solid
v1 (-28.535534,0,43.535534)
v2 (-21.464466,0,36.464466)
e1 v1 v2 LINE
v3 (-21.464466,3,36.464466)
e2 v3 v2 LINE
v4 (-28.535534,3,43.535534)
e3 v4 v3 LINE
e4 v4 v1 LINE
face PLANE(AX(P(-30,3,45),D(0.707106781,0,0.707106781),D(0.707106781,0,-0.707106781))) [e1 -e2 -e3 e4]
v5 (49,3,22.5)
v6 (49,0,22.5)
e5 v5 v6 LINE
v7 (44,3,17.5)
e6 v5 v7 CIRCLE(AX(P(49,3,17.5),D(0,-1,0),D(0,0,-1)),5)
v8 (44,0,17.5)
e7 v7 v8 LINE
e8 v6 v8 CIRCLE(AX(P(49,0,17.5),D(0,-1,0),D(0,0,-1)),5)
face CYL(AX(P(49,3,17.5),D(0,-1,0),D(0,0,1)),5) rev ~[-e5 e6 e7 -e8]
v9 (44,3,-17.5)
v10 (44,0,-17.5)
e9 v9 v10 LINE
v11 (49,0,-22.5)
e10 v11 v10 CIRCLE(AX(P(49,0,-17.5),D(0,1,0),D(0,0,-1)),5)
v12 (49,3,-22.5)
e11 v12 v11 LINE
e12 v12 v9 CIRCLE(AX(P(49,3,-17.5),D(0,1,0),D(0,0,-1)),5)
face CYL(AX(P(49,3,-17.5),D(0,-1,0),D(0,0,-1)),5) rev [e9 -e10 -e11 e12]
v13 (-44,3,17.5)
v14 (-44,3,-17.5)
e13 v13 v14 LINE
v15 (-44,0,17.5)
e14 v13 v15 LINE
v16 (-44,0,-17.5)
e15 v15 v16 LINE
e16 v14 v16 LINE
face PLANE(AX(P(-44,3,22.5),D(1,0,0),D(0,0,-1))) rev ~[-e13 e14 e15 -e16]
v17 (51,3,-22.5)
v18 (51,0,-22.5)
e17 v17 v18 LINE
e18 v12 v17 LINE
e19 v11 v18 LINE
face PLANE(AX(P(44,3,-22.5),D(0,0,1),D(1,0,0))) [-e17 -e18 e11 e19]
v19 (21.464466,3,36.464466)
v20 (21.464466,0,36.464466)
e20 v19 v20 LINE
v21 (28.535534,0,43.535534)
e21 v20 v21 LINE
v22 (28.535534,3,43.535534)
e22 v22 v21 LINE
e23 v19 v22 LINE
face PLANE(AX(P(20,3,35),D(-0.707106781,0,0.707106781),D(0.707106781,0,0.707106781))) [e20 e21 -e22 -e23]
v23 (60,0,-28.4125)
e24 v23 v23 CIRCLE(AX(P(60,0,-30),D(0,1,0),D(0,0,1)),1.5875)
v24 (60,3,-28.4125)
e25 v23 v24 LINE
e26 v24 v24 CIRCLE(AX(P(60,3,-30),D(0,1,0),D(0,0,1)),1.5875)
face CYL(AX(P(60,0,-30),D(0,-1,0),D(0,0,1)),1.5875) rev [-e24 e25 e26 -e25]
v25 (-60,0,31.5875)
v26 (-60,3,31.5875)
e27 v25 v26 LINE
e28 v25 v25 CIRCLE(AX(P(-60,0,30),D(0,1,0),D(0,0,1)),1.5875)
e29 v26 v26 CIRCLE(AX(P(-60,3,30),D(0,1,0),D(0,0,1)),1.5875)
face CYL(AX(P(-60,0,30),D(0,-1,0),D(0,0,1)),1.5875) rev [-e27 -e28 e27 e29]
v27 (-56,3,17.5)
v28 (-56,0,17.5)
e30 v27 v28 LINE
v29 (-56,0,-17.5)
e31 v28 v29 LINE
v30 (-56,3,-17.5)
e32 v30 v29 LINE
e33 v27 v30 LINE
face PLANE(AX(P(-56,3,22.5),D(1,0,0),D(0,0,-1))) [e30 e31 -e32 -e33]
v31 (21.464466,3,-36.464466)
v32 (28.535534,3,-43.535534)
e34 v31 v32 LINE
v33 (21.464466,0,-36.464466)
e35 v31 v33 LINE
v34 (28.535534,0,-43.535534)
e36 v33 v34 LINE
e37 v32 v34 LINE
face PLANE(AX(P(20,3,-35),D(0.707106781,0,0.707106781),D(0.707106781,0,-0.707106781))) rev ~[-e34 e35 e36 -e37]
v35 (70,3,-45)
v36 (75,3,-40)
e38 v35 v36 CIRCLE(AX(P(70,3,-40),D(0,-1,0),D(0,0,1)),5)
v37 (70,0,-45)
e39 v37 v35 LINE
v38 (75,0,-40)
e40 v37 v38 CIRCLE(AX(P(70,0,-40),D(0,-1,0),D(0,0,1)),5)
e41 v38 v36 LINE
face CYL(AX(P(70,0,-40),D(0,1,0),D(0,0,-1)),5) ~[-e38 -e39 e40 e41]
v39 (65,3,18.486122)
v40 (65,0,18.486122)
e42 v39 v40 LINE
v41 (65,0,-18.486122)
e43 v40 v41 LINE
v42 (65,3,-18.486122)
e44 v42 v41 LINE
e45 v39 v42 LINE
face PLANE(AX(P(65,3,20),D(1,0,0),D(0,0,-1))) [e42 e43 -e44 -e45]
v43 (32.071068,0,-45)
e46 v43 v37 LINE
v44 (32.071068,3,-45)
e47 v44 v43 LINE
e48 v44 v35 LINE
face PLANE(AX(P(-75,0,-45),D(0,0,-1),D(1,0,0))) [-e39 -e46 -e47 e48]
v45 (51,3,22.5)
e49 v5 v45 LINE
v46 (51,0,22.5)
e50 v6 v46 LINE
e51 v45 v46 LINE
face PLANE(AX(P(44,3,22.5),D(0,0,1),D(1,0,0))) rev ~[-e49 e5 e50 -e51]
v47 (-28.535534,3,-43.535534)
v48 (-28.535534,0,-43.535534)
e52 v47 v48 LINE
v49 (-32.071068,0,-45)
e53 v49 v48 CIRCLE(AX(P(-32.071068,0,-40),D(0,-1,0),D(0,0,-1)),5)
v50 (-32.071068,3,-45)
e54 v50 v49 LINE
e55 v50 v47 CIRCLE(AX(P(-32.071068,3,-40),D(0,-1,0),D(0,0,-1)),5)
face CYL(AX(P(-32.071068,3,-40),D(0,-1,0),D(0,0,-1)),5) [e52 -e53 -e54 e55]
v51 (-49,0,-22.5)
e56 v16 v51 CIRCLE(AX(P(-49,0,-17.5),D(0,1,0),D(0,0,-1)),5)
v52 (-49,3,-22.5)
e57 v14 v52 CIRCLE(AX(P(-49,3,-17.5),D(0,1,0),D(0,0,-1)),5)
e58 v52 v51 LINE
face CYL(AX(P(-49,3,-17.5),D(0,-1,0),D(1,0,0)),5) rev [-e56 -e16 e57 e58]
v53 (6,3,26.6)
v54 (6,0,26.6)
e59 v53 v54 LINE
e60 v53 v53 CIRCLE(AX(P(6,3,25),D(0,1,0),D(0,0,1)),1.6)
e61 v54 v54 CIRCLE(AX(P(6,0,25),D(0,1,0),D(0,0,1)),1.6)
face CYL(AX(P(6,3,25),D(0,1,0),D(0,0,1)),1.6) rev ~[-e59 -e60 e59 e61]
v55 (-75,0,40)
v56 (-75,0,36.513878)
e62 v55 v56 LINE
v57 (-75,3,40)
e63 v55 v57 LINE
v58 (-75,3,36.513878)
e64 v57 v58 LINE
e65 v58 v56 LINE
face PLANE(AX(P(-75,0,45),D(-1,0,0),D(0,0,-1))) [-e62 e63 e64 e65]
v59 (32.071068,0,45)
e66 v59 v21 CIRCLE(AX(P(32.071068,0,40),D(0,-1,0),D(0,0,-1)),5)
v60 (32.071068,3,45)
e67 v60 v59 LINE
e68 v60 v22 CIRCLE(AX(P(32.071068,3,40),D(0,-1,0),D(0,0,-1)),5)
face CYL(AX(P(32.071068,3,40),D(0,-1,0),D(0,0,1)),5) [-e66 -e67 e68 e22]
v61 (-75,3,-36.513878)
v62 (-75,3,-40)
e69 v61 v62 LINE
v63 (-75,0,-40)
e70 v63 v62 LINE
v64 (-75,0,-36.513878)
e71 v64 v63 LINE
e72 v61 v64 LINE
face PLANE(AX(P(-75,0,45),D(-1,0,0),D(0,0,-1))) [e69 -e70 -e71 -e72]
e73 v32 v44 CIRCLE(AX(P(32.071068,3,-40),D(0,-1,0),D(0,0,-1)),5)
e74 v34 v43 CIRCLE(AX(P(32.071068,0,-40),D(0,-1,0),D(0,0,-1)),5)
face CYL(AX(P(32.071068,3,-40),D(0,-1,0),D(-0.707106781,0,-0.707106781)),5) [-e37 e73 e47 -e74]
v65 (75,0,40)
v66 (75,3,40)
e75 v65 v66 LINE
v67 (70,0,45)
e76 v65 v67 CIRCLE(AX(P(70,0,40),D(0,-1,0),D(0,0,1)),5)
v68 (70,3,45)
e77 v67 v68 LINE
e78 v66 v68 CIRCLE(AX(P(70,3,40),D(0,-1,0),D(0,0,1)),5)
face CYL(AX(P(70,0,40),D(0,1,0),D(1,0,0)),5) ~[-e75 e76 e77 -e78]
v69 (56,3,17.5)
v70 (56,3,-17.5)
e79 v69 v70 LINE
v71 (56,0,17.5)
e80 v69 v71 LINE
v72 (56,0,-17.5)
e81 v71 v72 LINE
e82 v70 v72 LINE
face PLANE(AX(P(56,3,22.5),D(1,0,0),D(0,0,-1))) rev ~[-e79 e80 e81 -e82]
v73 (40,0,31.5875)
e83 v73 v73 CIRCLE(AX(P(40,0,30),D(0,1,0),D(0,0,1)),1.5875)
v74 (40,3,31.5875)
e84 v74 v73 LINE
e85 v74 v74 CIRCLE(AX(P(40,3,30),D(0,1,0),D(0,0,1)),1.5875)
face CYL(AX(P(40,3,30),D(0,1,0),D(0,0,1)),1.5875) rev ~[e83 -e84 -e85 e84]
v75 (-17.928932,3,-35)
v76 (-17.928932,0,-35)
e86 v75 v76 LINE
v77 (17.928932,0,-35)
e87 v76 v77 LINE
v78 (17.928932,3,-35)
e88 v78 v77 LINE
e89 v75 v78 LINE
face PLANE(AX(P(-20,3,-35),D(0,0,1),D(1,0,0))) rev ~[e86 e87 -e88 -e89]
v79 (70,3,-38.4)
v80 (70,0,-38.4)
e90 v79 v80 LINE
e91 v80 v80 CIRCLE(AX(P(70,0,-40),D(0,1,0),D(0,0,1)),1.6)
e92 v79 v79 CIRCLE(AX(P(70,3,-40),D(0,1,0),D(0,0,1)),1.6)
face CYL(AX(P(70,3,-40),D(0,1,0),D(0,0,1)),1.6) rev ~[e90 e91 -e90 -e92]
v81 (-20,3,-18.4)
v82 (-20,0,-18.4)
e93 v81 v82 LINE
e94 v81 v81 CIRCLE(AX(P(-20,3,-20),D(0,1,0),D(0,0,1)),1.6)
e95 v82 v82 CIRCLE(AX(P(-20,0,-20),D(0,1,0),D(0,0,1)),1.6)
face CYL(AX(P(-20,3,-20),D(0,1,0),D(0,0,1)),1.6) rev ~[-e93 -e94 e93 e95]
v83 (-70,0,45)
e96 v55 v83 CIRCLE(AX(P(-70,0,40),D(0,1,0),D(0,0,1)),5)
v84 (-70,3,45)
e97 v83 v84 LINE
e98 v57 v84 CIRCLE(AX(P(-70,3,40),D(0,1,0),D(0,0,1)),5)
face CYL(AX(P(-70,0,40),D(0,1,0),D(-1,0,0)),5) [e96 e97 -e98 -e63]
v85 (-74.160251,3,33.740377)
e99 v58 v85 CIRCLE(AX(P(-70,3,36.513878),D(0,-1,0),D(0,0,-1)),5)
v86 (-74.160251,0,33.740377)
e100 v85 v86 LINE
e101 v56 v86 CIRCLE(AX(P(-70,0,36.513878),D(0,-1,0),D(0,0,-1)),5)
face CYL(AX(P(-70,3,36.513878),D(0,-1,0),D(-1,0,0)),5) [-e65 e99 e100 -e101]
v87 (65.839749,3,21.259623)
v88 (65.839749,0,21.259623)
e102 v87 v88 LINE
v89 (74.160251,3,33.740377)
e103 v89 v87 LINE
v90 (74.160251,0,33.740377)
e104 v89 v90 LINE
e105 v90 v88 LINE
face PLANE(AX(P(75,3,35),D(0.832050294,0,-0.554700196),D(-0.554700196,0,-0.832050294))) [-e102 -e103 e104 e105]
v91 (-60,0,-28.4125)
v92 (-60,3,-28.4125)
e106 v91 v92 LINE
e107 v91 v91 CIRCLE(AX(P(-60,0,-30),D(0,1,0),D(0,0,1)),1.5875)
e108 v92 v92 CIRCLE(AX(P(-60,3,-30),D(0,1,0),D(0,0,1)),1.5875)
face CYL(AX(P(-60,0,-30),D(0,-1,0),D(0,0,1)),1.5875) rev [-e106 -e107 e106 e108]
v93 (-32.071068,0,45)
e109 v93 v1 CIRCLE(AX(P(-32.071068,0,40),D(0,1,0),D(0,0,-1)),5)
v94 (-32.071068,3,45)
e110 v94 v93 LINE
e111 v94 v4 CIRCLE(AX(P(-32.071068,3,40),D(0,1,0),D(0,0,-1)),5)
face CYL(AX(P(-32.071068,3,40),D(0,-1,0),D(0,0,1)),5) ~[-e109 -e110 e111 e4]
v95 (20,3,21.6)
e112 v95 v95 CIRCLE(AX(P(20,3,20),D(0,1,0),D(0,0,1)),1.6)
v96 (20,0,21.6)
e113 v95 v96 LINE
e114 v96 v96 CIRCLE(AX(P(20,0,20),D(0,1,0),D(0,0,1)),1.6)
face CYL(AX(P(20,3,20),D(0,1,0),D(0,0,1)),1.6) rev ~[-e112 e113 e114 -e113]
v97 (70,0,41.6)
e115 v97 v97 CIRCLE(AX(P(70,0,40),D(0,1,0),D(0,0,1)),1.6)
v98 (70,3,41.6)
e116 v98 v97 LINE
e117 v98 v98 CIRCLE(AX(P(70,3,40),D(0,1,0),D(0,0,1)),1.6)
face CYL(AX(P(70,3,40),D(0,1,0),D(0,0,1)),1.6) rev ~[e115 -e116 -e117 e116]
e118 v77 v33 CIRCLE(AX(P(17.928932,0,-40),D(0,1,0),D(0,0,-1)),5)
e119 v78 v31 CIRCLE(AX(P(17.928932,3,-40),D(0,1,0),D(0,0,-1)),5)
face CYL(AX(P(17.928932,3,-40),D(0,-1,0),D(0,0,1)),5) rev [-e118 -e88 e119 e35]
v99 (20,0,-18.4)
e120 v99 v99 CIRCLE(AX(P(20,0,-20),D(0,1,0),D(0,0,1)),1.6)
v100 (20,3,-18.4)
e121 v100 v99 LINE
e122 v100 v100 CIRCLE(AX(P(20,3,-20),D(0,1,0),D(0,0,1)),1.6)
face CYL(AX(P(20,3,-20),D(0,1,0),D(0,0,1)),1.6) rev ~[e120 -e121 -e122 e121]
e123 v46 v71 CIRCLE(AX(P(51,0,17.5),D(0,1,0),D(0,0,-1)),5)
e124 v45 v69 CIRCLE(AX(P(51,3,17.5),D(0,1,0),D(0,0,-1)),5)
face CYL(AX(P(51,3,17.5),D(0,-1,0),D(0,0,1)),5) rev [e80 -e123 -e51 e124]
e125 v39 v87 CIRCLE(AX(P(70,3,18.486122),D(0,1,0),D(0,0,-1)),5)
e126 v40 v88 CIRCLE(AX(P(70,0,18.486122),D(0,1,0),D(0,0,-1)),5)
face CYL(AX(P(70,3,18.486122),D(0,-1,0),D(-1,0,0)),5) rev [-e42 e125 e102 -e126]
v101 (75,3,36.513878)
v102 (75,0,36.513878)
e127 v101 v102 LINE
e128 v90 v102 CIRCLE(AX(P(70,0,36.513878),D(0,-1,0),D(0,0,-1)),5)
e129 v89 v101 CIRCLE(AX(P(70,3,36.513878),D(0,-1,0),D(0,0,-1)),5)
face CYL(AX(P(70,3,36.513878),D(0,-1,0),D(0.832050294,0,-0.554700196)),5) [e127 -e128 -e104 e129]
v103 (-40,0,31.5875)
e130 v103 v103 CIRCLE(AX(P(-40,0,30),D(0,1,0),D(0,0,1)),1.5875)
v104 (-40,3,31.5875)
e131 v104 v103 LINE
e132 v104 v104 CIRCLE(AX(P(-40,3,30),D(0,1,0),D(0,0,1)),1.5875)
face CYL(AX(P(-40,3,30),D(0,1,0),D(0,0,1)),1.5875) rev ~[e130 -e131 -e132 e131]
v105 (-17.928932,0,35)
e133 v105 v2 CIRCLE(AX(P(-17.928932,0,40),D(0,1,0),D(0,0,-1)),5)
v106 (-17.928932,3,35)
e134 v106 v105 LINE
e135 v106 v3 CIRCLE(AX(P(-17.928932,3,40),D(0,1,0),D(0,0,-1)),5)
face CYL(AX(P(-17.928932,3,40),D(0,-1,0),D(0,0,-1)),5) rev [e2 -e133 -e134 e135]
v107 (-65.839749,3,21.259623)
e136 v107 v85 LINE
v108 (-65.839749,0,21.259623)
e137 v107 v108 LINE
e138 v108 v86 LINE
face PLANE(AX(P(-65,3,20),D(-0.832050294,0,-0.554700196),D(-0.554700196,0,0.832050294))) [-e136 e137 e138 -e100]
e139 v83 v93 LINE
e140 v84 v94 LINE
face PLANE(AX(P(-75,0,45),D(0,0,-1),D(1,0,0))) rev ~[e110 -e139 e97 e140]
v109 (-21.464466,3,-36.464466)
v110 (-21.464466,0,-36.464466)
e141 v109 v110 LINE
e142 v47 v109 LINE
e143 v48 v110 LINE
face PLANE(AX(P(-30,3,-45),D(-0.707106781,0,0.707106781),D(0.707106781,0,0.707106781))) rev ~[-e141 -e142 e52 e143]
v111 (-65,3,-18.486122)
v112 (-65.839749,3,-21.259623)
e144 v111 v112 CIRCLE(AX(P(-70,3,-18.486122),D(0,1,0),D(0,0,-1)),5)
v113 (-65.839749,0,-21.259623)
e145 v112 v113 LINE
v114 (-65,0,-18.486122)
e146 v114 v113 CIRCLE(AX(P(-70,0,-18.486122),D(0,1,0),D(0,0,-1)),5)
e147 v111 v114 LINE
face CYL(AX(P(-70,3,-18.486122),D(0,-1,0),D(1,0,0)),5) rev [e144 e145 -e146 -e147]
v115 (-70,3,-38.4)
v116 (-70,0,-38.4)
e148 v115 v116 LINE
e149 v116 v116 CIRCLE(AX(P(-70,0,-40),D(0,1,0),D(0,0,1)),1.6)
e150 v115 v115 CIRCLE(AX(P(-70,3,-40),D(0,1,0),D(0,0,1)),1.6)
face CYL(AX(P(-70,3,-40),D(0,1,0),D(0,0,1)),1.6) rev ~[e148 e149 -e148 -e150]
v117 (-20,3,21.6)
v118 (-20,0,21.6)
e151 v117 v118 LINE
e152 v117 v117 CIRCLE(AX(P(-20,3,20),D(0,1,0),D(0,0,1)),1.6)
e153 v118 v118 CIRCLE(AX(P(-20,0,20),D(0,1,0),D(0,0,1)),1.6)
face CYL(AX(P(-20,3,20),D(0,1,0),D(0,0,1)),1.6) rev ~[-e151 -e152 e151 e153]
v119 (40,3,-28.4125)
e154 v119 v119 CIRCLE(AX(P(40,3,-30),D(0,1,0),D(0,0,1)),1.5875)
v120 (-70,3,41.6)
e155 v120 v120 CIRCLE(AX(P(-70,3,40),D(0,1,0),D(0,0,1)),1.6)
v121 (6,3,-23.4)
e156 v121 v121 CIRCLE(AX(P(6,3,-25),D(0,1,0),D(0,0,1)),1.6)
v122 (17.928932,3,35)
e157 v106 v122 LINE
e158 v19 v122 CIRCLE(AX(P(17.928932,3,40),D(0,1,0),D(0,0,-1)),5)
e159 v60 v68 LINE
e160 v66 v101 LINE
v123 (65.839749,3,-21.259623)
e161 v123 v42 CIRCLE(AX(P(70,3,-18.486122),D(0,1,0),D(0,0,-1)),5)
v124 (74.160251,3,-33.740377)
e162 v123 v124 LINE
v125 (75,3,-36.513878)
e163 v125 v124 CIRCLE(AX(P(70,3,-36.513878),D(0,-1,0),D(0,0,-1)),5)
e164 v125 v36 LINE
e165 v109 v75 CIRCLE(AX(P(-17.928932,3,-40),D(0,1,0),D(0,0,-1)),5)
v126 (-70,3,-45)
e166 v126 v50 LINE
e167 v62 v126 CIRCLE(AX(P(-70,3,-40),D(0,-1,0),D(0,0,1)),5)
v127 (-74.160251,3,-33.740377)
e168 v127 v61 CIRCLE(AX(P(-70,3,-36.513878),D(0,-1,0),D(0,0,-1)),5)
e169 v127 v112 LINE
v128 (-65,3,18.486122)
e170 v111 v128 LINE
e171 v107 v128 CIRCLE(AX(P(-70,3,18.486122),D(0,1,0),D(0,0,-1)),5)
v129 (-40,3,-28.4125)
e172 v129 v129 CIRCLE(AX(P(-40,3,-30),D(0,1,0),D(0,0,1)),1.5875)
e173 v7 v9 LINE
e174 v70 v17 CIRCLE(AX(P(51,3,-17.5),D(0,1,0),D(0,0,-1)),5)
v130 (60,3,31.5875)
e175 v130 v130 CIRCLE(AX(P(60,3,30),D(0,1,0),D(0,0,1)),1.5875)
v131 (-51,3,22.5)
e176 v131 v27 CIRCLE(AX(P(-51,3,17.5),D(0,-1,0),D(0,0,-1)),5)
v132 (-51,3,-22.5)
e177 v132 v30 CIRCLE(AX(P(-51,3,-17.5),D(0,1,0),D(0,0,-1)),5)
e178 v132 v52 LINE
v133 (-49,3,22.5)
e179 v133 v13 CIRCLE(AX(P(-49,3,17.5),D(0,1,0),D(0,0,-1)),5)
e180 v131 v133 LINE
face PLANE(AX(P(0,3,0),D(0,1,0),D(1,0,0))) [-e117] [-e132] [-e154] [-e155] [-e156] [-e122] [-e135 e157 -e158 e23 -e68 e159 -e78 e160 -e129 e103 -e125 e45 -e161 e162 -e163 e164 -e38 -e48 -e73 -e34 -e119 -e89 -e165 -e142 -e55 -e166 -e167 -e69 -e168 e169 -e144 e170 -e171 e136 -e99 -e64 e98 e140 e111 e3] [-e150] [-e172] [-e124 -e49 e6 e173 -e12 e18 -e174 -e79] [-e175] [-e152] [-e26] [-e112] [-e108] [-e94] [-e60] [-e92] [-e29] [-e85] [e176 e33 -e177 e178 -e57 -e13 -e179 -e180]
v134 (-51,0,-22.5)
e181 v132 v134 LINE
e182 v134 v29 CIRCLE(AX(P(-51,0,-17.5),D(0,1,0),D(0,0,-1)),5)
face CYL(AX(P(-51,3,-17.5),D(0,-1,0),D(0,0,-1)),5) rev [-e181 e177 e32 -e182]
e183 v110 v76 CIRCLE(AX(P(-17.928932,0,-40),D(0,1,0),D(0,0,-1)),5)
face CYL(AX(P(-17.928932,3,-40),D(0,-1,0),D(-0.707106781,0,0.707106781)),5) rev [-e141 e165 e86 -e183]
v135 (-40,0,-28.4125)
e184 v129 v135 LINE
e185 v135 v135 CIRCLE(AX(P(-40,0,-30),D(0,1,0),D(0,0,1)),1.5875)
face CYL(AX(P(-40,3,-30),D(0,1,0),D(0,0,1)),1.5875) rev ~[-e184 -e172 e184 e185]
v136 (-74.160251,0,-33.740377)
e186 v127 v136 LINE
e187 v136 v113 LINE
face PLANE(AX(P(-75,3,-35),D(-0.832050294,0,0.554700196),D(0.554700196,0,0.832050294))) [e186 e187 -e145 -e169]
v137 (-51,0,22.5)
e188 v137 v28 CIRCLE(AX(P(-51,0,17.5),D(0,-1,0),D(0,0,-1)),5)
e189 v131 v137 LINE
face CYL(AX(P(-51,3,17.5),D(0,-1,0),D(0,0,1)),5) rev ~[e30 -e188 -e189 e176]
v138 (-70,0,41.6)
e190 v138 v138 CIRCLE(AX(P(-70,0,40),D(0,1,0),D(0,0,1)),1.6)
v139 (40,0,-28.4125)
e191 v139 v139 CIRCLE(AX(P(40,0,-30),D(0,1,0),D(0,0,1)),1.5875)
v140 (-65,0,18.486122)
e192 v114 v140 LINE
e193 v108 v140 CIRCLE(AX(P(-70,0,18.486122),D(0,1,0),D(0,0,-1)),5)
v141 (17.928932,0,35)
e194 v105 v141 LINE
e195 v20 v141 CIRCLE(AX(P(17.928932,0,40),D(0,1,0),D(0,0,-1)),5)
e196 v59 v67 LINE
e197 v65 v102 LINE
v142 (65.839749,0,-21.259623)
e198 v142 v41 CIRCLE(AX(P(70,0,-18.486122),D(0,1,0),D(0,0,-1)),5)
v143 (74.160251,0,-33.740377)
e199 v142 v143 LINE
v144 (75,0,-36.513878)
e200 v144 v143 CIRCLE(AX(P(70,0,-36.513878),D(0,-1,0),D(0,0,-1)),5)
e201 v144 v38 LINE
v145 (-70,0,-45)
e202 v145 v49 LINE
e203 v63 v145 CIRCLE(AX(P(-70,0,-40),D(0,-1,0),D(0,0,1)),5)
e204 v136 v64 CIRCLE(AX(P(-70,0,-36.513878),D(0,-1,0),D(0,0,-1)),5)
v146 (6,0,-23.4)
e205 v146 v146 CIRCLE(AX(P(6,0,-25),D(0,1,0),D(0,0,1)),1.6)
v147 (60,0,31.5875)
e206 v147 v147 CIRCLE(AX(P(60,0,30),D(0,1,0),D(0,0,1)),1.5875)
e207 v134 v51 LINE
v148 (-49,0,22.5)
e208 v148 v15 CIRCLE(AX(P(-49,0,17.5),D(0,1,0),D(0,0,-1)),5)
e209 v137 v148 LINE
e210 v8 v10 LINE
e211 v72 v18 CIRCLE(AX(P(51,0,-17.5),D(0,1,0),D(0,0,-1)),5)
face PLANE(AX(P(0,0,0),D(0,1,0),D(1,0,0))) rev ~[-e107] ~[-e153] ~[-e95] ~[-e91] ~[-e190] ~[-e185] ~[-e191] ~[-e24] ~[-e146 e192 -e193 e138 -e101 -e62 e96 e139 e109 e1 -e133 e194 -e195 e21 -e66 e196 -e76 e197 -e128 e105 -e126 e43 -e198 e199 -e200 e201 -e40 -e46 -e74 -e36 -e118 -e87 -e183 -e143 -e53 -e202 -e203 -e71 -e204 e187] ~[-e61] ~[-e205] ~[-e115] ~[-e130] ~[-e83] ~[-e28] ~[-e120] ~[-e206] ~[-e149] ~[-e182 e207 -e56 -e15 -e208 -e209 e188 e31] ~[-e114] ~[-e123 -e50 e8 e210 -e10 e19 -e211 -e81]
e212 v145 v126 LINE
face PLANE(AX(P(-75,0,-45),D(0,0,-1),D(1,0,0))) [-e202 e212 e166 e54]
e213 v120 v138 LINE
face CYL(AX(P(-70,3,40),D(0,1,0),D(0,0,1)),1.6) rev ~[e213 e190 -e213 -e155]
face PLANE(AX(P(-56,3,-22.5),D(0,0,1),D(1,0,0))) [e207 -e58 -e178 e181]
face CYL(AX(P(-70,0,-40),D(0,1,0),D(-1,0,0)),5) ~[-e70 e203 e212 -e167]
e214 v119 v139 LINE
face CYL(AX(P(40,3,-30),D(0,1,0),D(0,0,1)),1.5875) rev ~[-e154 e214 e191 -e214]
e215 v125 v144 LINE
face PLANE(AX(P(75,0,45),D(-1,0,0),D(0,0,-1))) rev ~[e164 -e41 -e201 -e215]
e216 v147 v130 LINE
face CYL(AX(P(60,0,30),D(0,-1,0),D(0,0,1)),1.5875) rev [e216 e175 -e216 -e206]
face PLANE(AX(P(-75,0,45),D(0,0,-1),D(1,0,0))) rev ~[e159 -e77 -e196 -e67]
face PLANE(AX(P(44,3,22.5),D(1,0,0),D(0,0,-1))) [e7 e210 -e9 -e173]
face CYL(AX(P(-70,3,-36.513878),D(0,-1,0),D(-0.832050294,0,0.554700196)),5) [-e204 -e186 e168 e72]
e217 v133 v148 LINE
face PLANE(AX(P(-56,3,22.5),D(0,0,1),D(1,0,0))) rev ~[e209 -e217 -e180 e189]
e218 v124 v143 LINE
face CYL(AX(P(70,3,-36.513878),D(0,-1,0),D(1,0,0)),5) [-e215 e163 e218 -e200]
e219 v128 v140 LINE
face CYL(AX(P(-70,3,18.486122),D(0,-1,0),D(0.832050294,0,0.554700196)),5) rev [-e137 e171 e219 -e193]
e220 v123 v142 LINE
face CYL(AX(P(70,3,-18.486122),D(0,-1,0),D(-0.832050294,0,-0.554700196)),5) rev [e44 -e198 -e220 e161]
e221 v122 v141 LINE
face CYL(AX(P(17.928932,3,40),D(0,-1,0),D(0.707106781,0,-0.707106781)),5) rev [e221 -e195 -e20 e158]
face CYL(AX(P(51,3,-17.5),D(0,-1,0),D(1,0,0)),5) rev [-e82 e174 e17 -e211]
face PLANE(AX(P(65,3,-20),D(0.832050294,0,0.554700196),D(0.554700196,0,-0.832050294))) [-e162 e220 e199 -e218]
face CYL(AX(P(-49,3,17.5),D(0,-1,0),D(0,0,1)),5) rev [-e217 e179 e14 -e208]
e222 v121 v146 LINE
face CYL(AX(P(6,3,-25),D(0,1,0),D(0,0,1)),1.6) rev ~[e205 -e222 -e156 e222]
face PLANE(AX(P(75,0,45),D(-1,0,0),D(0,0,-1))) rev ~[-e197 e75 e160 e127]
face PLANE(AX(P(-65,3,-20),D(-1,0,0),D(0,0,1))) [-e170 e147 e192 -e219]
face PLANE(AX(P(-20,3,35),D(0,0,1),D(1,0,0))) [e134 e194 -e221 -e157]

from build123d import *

# Parameters (mm, degrees)
CROQUIS1_W              = 150
CROQUIS1_H              = 90
CROQUIS1_R              = 1.5875
SALIENTE_EXTRUIR1_DEPTH = 3
CROQUIS2_R              = 1.5875
CORTAR_EXTRUIR1_DEPTH   = 3
CROQUIS3_R              = 1.6
ANCLAJE_BANDA_DEPTH     = 10
CROQUIS4_R              = 1.6
ESPACIO_CENTRO_DEPTH    = 10
CROQUIS5_R              = 1.6
ESPACIO_EXTERNO_DEPTH   = 10
CROQUIS6_W              = 12
CROQUIS6_H              = 45
QUITA_PESO_DEPTH        = 10
REDONDEO1_R             = 5


with BuildPart() as part:
    # Croquis1 → Saliente-Extruir1 (new body)
    with BuildSketch(Plane(origin=(0, 0, 0), x_dir=(1, 0, 0), z_dir=(0, 1, 0))):
        Rectangle(CROQUIS1_W, CROQUIS1_H)
        with Locations(Location((-60, 30, 0), (0, 0, 270))):
            Circle(CROQUIS1_R, mode=Mode.SUBTRACT)
        with Locations(Location((-60, -30, 0), (0, 0, 270))):
            Circle(CROQUIS1_R, mode=Mode.SUBTRACT)
        with Locations(Location((60, -30, 0), (0, 0, 270))):
            Circle(CROQUIS1_R, mode=Mode.SUBTRACT)
        with Locations(Location((60, 30, 0), (0, 0, 270))):
            Circle(CROQUIS1_R, mode=Mode.SUBTRACT)
    extrude(amount=SALIENTE_EXTRUIR1_DEPTH)

    # Croquis2 → Cortar-Extruir1 (cut)
    with BuildSketch(Plane(origin=(0, 3, 0), x_dir=(1, 0, 0), z_dir=(0, 1, 0))):
        with Locations(Location((-40, 30, 0), (0, 0, 270))):
            Circle(CROQUIS2_R)
        with Locations(Location((-40, -30, 0), (0, 0, 270))):
            Circle(CROQUIS2_R)
        with Locations(Location((40, -30, 0), (0, 0, 270))):
            Circle(CROQUIS2_R)
        with Locations(Location((40, 30, 0), (0, 0, 270))):
            Circle(CROQUIS2_R)
    extrude(amount=-CORTAR_EXTRUIR1_DEPTH, mode=Mode.SUBTRACT)

    # Croquis3 → Anclaje_Banda (cut)
    with BuildSketch(Plane(origin=(0, 3, 0), x_dir=(1, 0, 0), z_dir=(0, 1, 0))):
        with Locations(Location((6, -25, 0), (0, 0, 270))):
            Circle(CROQUIS3_R)
        with Locations(Location((6, 25, 0), (0, 0, 270))):
            Circle(CROQUIS3_R)
    extrude(amount=-ANCLAJE_BANDA_DEPTH, mode=Mode.SUBTRACT)

    # Croquis4 → Espacio_Centro (cut)
    with BuildSketch(Plane(origin=(0, 3, 0), x_dir=(1, 0, 0), z_dir=(0, 1, 0))):
        with Locations(Location((20, -20, 0), (0, 0, 270))):
            Circle(CROQUIS4_R)
        with Locations(Location((-20, -20, 0), (0, 0, 270))):
            Circle(CROQUIS4_R)
        with Locations(Location((-20, 20, 0), (0, 0, 270))):
            Circle(CROQUIS4_R)
        with Locations(Location((20, 20, 0), (0, 0, 270))):
            Circle(CROQUIS4_R)
    extrude(amount=-ESPACIO_CENTRO_DEPTH, mode=Mode.SUBTRACT)

    # Croquis5 → Espacio_externo (cut)
    with BuildSketch(Plane(origin=(0, 3, 0), x_dir=(1, 0, 0), z_dir=(0, 1, 0))):
        with Locations(Location((-70, 40, 0), (0, 0, 270))):
            Circle(CROQUIS5_R)
        with Locations(Location((70, 40, 0), (0, 0, 270))):
            Circle(CROQUIS5_R)
        with Locations(Location((70, -40, 0), (0, 0, 270))):
            Circle(CROQUIS5_R)
        with Locations(Location((-70, -40, 0), (0, 0, 270))):
            Circle(CROQUIS5_R)
    extrude(amount=-ESPACIO_EXTERNO_DEPTH, mode=Mode.SUBTRACT)

    # Croquis6 → Quita_peso (cut)
    with BuildSketch(Plane(origin=(0, 3, 0), x_dir=(1, 0, 0), z_dir=(0, 1, 0))):
        Polygon((-75, 35), (-65, 20), (-65, -20), (-75, -35), align=None)
        Polygon((75, 35), (75, -35), (65, -20), (65, 20), align=None)
        with Locations((-50, 0)):
            Rectangle(CROQUIS6_W, CROQUIS6_H)
        with Locations((50, 0)):
            Rectangle(CROQUIS6_W, CROQUIS6_H)
        Polygon((-30, 45), (-20, 35), (20, 35), (30, 45), align=None)
        Polygon((20, -35), (30, -45), (-30, -45), (-20, -35), align=None)
    extrude(amount=-QUITA_PESO_DEPTH, mode=Mode.SUBTRACT)

    # Redondeo1
    redondeo1_edges = [part.edges().sort_by_distance(p)[0] for p in [
        (-75, 1.5, 35),
        (-75, 1.5, -35),
        (-65, 1.5, -20),
        (-65, 1.5, 20),
        (-30, 1.5, 45),
        (30, 1.5, 45),
        (-30, 1.5, -45),
        (30, 1.5, -45),
        (75, 1.5, 35),
        (75, 1.5, -35),
        (-20, 1.5, 35),
        (20, 1.5, 35),
        (20, 1.5, -35),
        (-20, 1.5, -35),
        (56, 1.5, -22.5),
        (56, 1.5, 22.5),
        (44, 1.5, 22.5),
        (44, 1.5, -22.5),
        (-44, 1.5, -22.5),
        (-44, 1.5, 22.5),
        (-56, 1.5, 22.5),
        (-56, 1.5, -22.5),
        (65, 1.5, 20),
        (65, 1.5, -20),
        (75, 1.5, 45),
        (-75, 1.5, 45),
        (-75, 1.5, -45),
        (75, 1.5, -45),
    ]]
    fillet(redondeo1_edges, radius=REDONDEO1_R)


solid = part.part
